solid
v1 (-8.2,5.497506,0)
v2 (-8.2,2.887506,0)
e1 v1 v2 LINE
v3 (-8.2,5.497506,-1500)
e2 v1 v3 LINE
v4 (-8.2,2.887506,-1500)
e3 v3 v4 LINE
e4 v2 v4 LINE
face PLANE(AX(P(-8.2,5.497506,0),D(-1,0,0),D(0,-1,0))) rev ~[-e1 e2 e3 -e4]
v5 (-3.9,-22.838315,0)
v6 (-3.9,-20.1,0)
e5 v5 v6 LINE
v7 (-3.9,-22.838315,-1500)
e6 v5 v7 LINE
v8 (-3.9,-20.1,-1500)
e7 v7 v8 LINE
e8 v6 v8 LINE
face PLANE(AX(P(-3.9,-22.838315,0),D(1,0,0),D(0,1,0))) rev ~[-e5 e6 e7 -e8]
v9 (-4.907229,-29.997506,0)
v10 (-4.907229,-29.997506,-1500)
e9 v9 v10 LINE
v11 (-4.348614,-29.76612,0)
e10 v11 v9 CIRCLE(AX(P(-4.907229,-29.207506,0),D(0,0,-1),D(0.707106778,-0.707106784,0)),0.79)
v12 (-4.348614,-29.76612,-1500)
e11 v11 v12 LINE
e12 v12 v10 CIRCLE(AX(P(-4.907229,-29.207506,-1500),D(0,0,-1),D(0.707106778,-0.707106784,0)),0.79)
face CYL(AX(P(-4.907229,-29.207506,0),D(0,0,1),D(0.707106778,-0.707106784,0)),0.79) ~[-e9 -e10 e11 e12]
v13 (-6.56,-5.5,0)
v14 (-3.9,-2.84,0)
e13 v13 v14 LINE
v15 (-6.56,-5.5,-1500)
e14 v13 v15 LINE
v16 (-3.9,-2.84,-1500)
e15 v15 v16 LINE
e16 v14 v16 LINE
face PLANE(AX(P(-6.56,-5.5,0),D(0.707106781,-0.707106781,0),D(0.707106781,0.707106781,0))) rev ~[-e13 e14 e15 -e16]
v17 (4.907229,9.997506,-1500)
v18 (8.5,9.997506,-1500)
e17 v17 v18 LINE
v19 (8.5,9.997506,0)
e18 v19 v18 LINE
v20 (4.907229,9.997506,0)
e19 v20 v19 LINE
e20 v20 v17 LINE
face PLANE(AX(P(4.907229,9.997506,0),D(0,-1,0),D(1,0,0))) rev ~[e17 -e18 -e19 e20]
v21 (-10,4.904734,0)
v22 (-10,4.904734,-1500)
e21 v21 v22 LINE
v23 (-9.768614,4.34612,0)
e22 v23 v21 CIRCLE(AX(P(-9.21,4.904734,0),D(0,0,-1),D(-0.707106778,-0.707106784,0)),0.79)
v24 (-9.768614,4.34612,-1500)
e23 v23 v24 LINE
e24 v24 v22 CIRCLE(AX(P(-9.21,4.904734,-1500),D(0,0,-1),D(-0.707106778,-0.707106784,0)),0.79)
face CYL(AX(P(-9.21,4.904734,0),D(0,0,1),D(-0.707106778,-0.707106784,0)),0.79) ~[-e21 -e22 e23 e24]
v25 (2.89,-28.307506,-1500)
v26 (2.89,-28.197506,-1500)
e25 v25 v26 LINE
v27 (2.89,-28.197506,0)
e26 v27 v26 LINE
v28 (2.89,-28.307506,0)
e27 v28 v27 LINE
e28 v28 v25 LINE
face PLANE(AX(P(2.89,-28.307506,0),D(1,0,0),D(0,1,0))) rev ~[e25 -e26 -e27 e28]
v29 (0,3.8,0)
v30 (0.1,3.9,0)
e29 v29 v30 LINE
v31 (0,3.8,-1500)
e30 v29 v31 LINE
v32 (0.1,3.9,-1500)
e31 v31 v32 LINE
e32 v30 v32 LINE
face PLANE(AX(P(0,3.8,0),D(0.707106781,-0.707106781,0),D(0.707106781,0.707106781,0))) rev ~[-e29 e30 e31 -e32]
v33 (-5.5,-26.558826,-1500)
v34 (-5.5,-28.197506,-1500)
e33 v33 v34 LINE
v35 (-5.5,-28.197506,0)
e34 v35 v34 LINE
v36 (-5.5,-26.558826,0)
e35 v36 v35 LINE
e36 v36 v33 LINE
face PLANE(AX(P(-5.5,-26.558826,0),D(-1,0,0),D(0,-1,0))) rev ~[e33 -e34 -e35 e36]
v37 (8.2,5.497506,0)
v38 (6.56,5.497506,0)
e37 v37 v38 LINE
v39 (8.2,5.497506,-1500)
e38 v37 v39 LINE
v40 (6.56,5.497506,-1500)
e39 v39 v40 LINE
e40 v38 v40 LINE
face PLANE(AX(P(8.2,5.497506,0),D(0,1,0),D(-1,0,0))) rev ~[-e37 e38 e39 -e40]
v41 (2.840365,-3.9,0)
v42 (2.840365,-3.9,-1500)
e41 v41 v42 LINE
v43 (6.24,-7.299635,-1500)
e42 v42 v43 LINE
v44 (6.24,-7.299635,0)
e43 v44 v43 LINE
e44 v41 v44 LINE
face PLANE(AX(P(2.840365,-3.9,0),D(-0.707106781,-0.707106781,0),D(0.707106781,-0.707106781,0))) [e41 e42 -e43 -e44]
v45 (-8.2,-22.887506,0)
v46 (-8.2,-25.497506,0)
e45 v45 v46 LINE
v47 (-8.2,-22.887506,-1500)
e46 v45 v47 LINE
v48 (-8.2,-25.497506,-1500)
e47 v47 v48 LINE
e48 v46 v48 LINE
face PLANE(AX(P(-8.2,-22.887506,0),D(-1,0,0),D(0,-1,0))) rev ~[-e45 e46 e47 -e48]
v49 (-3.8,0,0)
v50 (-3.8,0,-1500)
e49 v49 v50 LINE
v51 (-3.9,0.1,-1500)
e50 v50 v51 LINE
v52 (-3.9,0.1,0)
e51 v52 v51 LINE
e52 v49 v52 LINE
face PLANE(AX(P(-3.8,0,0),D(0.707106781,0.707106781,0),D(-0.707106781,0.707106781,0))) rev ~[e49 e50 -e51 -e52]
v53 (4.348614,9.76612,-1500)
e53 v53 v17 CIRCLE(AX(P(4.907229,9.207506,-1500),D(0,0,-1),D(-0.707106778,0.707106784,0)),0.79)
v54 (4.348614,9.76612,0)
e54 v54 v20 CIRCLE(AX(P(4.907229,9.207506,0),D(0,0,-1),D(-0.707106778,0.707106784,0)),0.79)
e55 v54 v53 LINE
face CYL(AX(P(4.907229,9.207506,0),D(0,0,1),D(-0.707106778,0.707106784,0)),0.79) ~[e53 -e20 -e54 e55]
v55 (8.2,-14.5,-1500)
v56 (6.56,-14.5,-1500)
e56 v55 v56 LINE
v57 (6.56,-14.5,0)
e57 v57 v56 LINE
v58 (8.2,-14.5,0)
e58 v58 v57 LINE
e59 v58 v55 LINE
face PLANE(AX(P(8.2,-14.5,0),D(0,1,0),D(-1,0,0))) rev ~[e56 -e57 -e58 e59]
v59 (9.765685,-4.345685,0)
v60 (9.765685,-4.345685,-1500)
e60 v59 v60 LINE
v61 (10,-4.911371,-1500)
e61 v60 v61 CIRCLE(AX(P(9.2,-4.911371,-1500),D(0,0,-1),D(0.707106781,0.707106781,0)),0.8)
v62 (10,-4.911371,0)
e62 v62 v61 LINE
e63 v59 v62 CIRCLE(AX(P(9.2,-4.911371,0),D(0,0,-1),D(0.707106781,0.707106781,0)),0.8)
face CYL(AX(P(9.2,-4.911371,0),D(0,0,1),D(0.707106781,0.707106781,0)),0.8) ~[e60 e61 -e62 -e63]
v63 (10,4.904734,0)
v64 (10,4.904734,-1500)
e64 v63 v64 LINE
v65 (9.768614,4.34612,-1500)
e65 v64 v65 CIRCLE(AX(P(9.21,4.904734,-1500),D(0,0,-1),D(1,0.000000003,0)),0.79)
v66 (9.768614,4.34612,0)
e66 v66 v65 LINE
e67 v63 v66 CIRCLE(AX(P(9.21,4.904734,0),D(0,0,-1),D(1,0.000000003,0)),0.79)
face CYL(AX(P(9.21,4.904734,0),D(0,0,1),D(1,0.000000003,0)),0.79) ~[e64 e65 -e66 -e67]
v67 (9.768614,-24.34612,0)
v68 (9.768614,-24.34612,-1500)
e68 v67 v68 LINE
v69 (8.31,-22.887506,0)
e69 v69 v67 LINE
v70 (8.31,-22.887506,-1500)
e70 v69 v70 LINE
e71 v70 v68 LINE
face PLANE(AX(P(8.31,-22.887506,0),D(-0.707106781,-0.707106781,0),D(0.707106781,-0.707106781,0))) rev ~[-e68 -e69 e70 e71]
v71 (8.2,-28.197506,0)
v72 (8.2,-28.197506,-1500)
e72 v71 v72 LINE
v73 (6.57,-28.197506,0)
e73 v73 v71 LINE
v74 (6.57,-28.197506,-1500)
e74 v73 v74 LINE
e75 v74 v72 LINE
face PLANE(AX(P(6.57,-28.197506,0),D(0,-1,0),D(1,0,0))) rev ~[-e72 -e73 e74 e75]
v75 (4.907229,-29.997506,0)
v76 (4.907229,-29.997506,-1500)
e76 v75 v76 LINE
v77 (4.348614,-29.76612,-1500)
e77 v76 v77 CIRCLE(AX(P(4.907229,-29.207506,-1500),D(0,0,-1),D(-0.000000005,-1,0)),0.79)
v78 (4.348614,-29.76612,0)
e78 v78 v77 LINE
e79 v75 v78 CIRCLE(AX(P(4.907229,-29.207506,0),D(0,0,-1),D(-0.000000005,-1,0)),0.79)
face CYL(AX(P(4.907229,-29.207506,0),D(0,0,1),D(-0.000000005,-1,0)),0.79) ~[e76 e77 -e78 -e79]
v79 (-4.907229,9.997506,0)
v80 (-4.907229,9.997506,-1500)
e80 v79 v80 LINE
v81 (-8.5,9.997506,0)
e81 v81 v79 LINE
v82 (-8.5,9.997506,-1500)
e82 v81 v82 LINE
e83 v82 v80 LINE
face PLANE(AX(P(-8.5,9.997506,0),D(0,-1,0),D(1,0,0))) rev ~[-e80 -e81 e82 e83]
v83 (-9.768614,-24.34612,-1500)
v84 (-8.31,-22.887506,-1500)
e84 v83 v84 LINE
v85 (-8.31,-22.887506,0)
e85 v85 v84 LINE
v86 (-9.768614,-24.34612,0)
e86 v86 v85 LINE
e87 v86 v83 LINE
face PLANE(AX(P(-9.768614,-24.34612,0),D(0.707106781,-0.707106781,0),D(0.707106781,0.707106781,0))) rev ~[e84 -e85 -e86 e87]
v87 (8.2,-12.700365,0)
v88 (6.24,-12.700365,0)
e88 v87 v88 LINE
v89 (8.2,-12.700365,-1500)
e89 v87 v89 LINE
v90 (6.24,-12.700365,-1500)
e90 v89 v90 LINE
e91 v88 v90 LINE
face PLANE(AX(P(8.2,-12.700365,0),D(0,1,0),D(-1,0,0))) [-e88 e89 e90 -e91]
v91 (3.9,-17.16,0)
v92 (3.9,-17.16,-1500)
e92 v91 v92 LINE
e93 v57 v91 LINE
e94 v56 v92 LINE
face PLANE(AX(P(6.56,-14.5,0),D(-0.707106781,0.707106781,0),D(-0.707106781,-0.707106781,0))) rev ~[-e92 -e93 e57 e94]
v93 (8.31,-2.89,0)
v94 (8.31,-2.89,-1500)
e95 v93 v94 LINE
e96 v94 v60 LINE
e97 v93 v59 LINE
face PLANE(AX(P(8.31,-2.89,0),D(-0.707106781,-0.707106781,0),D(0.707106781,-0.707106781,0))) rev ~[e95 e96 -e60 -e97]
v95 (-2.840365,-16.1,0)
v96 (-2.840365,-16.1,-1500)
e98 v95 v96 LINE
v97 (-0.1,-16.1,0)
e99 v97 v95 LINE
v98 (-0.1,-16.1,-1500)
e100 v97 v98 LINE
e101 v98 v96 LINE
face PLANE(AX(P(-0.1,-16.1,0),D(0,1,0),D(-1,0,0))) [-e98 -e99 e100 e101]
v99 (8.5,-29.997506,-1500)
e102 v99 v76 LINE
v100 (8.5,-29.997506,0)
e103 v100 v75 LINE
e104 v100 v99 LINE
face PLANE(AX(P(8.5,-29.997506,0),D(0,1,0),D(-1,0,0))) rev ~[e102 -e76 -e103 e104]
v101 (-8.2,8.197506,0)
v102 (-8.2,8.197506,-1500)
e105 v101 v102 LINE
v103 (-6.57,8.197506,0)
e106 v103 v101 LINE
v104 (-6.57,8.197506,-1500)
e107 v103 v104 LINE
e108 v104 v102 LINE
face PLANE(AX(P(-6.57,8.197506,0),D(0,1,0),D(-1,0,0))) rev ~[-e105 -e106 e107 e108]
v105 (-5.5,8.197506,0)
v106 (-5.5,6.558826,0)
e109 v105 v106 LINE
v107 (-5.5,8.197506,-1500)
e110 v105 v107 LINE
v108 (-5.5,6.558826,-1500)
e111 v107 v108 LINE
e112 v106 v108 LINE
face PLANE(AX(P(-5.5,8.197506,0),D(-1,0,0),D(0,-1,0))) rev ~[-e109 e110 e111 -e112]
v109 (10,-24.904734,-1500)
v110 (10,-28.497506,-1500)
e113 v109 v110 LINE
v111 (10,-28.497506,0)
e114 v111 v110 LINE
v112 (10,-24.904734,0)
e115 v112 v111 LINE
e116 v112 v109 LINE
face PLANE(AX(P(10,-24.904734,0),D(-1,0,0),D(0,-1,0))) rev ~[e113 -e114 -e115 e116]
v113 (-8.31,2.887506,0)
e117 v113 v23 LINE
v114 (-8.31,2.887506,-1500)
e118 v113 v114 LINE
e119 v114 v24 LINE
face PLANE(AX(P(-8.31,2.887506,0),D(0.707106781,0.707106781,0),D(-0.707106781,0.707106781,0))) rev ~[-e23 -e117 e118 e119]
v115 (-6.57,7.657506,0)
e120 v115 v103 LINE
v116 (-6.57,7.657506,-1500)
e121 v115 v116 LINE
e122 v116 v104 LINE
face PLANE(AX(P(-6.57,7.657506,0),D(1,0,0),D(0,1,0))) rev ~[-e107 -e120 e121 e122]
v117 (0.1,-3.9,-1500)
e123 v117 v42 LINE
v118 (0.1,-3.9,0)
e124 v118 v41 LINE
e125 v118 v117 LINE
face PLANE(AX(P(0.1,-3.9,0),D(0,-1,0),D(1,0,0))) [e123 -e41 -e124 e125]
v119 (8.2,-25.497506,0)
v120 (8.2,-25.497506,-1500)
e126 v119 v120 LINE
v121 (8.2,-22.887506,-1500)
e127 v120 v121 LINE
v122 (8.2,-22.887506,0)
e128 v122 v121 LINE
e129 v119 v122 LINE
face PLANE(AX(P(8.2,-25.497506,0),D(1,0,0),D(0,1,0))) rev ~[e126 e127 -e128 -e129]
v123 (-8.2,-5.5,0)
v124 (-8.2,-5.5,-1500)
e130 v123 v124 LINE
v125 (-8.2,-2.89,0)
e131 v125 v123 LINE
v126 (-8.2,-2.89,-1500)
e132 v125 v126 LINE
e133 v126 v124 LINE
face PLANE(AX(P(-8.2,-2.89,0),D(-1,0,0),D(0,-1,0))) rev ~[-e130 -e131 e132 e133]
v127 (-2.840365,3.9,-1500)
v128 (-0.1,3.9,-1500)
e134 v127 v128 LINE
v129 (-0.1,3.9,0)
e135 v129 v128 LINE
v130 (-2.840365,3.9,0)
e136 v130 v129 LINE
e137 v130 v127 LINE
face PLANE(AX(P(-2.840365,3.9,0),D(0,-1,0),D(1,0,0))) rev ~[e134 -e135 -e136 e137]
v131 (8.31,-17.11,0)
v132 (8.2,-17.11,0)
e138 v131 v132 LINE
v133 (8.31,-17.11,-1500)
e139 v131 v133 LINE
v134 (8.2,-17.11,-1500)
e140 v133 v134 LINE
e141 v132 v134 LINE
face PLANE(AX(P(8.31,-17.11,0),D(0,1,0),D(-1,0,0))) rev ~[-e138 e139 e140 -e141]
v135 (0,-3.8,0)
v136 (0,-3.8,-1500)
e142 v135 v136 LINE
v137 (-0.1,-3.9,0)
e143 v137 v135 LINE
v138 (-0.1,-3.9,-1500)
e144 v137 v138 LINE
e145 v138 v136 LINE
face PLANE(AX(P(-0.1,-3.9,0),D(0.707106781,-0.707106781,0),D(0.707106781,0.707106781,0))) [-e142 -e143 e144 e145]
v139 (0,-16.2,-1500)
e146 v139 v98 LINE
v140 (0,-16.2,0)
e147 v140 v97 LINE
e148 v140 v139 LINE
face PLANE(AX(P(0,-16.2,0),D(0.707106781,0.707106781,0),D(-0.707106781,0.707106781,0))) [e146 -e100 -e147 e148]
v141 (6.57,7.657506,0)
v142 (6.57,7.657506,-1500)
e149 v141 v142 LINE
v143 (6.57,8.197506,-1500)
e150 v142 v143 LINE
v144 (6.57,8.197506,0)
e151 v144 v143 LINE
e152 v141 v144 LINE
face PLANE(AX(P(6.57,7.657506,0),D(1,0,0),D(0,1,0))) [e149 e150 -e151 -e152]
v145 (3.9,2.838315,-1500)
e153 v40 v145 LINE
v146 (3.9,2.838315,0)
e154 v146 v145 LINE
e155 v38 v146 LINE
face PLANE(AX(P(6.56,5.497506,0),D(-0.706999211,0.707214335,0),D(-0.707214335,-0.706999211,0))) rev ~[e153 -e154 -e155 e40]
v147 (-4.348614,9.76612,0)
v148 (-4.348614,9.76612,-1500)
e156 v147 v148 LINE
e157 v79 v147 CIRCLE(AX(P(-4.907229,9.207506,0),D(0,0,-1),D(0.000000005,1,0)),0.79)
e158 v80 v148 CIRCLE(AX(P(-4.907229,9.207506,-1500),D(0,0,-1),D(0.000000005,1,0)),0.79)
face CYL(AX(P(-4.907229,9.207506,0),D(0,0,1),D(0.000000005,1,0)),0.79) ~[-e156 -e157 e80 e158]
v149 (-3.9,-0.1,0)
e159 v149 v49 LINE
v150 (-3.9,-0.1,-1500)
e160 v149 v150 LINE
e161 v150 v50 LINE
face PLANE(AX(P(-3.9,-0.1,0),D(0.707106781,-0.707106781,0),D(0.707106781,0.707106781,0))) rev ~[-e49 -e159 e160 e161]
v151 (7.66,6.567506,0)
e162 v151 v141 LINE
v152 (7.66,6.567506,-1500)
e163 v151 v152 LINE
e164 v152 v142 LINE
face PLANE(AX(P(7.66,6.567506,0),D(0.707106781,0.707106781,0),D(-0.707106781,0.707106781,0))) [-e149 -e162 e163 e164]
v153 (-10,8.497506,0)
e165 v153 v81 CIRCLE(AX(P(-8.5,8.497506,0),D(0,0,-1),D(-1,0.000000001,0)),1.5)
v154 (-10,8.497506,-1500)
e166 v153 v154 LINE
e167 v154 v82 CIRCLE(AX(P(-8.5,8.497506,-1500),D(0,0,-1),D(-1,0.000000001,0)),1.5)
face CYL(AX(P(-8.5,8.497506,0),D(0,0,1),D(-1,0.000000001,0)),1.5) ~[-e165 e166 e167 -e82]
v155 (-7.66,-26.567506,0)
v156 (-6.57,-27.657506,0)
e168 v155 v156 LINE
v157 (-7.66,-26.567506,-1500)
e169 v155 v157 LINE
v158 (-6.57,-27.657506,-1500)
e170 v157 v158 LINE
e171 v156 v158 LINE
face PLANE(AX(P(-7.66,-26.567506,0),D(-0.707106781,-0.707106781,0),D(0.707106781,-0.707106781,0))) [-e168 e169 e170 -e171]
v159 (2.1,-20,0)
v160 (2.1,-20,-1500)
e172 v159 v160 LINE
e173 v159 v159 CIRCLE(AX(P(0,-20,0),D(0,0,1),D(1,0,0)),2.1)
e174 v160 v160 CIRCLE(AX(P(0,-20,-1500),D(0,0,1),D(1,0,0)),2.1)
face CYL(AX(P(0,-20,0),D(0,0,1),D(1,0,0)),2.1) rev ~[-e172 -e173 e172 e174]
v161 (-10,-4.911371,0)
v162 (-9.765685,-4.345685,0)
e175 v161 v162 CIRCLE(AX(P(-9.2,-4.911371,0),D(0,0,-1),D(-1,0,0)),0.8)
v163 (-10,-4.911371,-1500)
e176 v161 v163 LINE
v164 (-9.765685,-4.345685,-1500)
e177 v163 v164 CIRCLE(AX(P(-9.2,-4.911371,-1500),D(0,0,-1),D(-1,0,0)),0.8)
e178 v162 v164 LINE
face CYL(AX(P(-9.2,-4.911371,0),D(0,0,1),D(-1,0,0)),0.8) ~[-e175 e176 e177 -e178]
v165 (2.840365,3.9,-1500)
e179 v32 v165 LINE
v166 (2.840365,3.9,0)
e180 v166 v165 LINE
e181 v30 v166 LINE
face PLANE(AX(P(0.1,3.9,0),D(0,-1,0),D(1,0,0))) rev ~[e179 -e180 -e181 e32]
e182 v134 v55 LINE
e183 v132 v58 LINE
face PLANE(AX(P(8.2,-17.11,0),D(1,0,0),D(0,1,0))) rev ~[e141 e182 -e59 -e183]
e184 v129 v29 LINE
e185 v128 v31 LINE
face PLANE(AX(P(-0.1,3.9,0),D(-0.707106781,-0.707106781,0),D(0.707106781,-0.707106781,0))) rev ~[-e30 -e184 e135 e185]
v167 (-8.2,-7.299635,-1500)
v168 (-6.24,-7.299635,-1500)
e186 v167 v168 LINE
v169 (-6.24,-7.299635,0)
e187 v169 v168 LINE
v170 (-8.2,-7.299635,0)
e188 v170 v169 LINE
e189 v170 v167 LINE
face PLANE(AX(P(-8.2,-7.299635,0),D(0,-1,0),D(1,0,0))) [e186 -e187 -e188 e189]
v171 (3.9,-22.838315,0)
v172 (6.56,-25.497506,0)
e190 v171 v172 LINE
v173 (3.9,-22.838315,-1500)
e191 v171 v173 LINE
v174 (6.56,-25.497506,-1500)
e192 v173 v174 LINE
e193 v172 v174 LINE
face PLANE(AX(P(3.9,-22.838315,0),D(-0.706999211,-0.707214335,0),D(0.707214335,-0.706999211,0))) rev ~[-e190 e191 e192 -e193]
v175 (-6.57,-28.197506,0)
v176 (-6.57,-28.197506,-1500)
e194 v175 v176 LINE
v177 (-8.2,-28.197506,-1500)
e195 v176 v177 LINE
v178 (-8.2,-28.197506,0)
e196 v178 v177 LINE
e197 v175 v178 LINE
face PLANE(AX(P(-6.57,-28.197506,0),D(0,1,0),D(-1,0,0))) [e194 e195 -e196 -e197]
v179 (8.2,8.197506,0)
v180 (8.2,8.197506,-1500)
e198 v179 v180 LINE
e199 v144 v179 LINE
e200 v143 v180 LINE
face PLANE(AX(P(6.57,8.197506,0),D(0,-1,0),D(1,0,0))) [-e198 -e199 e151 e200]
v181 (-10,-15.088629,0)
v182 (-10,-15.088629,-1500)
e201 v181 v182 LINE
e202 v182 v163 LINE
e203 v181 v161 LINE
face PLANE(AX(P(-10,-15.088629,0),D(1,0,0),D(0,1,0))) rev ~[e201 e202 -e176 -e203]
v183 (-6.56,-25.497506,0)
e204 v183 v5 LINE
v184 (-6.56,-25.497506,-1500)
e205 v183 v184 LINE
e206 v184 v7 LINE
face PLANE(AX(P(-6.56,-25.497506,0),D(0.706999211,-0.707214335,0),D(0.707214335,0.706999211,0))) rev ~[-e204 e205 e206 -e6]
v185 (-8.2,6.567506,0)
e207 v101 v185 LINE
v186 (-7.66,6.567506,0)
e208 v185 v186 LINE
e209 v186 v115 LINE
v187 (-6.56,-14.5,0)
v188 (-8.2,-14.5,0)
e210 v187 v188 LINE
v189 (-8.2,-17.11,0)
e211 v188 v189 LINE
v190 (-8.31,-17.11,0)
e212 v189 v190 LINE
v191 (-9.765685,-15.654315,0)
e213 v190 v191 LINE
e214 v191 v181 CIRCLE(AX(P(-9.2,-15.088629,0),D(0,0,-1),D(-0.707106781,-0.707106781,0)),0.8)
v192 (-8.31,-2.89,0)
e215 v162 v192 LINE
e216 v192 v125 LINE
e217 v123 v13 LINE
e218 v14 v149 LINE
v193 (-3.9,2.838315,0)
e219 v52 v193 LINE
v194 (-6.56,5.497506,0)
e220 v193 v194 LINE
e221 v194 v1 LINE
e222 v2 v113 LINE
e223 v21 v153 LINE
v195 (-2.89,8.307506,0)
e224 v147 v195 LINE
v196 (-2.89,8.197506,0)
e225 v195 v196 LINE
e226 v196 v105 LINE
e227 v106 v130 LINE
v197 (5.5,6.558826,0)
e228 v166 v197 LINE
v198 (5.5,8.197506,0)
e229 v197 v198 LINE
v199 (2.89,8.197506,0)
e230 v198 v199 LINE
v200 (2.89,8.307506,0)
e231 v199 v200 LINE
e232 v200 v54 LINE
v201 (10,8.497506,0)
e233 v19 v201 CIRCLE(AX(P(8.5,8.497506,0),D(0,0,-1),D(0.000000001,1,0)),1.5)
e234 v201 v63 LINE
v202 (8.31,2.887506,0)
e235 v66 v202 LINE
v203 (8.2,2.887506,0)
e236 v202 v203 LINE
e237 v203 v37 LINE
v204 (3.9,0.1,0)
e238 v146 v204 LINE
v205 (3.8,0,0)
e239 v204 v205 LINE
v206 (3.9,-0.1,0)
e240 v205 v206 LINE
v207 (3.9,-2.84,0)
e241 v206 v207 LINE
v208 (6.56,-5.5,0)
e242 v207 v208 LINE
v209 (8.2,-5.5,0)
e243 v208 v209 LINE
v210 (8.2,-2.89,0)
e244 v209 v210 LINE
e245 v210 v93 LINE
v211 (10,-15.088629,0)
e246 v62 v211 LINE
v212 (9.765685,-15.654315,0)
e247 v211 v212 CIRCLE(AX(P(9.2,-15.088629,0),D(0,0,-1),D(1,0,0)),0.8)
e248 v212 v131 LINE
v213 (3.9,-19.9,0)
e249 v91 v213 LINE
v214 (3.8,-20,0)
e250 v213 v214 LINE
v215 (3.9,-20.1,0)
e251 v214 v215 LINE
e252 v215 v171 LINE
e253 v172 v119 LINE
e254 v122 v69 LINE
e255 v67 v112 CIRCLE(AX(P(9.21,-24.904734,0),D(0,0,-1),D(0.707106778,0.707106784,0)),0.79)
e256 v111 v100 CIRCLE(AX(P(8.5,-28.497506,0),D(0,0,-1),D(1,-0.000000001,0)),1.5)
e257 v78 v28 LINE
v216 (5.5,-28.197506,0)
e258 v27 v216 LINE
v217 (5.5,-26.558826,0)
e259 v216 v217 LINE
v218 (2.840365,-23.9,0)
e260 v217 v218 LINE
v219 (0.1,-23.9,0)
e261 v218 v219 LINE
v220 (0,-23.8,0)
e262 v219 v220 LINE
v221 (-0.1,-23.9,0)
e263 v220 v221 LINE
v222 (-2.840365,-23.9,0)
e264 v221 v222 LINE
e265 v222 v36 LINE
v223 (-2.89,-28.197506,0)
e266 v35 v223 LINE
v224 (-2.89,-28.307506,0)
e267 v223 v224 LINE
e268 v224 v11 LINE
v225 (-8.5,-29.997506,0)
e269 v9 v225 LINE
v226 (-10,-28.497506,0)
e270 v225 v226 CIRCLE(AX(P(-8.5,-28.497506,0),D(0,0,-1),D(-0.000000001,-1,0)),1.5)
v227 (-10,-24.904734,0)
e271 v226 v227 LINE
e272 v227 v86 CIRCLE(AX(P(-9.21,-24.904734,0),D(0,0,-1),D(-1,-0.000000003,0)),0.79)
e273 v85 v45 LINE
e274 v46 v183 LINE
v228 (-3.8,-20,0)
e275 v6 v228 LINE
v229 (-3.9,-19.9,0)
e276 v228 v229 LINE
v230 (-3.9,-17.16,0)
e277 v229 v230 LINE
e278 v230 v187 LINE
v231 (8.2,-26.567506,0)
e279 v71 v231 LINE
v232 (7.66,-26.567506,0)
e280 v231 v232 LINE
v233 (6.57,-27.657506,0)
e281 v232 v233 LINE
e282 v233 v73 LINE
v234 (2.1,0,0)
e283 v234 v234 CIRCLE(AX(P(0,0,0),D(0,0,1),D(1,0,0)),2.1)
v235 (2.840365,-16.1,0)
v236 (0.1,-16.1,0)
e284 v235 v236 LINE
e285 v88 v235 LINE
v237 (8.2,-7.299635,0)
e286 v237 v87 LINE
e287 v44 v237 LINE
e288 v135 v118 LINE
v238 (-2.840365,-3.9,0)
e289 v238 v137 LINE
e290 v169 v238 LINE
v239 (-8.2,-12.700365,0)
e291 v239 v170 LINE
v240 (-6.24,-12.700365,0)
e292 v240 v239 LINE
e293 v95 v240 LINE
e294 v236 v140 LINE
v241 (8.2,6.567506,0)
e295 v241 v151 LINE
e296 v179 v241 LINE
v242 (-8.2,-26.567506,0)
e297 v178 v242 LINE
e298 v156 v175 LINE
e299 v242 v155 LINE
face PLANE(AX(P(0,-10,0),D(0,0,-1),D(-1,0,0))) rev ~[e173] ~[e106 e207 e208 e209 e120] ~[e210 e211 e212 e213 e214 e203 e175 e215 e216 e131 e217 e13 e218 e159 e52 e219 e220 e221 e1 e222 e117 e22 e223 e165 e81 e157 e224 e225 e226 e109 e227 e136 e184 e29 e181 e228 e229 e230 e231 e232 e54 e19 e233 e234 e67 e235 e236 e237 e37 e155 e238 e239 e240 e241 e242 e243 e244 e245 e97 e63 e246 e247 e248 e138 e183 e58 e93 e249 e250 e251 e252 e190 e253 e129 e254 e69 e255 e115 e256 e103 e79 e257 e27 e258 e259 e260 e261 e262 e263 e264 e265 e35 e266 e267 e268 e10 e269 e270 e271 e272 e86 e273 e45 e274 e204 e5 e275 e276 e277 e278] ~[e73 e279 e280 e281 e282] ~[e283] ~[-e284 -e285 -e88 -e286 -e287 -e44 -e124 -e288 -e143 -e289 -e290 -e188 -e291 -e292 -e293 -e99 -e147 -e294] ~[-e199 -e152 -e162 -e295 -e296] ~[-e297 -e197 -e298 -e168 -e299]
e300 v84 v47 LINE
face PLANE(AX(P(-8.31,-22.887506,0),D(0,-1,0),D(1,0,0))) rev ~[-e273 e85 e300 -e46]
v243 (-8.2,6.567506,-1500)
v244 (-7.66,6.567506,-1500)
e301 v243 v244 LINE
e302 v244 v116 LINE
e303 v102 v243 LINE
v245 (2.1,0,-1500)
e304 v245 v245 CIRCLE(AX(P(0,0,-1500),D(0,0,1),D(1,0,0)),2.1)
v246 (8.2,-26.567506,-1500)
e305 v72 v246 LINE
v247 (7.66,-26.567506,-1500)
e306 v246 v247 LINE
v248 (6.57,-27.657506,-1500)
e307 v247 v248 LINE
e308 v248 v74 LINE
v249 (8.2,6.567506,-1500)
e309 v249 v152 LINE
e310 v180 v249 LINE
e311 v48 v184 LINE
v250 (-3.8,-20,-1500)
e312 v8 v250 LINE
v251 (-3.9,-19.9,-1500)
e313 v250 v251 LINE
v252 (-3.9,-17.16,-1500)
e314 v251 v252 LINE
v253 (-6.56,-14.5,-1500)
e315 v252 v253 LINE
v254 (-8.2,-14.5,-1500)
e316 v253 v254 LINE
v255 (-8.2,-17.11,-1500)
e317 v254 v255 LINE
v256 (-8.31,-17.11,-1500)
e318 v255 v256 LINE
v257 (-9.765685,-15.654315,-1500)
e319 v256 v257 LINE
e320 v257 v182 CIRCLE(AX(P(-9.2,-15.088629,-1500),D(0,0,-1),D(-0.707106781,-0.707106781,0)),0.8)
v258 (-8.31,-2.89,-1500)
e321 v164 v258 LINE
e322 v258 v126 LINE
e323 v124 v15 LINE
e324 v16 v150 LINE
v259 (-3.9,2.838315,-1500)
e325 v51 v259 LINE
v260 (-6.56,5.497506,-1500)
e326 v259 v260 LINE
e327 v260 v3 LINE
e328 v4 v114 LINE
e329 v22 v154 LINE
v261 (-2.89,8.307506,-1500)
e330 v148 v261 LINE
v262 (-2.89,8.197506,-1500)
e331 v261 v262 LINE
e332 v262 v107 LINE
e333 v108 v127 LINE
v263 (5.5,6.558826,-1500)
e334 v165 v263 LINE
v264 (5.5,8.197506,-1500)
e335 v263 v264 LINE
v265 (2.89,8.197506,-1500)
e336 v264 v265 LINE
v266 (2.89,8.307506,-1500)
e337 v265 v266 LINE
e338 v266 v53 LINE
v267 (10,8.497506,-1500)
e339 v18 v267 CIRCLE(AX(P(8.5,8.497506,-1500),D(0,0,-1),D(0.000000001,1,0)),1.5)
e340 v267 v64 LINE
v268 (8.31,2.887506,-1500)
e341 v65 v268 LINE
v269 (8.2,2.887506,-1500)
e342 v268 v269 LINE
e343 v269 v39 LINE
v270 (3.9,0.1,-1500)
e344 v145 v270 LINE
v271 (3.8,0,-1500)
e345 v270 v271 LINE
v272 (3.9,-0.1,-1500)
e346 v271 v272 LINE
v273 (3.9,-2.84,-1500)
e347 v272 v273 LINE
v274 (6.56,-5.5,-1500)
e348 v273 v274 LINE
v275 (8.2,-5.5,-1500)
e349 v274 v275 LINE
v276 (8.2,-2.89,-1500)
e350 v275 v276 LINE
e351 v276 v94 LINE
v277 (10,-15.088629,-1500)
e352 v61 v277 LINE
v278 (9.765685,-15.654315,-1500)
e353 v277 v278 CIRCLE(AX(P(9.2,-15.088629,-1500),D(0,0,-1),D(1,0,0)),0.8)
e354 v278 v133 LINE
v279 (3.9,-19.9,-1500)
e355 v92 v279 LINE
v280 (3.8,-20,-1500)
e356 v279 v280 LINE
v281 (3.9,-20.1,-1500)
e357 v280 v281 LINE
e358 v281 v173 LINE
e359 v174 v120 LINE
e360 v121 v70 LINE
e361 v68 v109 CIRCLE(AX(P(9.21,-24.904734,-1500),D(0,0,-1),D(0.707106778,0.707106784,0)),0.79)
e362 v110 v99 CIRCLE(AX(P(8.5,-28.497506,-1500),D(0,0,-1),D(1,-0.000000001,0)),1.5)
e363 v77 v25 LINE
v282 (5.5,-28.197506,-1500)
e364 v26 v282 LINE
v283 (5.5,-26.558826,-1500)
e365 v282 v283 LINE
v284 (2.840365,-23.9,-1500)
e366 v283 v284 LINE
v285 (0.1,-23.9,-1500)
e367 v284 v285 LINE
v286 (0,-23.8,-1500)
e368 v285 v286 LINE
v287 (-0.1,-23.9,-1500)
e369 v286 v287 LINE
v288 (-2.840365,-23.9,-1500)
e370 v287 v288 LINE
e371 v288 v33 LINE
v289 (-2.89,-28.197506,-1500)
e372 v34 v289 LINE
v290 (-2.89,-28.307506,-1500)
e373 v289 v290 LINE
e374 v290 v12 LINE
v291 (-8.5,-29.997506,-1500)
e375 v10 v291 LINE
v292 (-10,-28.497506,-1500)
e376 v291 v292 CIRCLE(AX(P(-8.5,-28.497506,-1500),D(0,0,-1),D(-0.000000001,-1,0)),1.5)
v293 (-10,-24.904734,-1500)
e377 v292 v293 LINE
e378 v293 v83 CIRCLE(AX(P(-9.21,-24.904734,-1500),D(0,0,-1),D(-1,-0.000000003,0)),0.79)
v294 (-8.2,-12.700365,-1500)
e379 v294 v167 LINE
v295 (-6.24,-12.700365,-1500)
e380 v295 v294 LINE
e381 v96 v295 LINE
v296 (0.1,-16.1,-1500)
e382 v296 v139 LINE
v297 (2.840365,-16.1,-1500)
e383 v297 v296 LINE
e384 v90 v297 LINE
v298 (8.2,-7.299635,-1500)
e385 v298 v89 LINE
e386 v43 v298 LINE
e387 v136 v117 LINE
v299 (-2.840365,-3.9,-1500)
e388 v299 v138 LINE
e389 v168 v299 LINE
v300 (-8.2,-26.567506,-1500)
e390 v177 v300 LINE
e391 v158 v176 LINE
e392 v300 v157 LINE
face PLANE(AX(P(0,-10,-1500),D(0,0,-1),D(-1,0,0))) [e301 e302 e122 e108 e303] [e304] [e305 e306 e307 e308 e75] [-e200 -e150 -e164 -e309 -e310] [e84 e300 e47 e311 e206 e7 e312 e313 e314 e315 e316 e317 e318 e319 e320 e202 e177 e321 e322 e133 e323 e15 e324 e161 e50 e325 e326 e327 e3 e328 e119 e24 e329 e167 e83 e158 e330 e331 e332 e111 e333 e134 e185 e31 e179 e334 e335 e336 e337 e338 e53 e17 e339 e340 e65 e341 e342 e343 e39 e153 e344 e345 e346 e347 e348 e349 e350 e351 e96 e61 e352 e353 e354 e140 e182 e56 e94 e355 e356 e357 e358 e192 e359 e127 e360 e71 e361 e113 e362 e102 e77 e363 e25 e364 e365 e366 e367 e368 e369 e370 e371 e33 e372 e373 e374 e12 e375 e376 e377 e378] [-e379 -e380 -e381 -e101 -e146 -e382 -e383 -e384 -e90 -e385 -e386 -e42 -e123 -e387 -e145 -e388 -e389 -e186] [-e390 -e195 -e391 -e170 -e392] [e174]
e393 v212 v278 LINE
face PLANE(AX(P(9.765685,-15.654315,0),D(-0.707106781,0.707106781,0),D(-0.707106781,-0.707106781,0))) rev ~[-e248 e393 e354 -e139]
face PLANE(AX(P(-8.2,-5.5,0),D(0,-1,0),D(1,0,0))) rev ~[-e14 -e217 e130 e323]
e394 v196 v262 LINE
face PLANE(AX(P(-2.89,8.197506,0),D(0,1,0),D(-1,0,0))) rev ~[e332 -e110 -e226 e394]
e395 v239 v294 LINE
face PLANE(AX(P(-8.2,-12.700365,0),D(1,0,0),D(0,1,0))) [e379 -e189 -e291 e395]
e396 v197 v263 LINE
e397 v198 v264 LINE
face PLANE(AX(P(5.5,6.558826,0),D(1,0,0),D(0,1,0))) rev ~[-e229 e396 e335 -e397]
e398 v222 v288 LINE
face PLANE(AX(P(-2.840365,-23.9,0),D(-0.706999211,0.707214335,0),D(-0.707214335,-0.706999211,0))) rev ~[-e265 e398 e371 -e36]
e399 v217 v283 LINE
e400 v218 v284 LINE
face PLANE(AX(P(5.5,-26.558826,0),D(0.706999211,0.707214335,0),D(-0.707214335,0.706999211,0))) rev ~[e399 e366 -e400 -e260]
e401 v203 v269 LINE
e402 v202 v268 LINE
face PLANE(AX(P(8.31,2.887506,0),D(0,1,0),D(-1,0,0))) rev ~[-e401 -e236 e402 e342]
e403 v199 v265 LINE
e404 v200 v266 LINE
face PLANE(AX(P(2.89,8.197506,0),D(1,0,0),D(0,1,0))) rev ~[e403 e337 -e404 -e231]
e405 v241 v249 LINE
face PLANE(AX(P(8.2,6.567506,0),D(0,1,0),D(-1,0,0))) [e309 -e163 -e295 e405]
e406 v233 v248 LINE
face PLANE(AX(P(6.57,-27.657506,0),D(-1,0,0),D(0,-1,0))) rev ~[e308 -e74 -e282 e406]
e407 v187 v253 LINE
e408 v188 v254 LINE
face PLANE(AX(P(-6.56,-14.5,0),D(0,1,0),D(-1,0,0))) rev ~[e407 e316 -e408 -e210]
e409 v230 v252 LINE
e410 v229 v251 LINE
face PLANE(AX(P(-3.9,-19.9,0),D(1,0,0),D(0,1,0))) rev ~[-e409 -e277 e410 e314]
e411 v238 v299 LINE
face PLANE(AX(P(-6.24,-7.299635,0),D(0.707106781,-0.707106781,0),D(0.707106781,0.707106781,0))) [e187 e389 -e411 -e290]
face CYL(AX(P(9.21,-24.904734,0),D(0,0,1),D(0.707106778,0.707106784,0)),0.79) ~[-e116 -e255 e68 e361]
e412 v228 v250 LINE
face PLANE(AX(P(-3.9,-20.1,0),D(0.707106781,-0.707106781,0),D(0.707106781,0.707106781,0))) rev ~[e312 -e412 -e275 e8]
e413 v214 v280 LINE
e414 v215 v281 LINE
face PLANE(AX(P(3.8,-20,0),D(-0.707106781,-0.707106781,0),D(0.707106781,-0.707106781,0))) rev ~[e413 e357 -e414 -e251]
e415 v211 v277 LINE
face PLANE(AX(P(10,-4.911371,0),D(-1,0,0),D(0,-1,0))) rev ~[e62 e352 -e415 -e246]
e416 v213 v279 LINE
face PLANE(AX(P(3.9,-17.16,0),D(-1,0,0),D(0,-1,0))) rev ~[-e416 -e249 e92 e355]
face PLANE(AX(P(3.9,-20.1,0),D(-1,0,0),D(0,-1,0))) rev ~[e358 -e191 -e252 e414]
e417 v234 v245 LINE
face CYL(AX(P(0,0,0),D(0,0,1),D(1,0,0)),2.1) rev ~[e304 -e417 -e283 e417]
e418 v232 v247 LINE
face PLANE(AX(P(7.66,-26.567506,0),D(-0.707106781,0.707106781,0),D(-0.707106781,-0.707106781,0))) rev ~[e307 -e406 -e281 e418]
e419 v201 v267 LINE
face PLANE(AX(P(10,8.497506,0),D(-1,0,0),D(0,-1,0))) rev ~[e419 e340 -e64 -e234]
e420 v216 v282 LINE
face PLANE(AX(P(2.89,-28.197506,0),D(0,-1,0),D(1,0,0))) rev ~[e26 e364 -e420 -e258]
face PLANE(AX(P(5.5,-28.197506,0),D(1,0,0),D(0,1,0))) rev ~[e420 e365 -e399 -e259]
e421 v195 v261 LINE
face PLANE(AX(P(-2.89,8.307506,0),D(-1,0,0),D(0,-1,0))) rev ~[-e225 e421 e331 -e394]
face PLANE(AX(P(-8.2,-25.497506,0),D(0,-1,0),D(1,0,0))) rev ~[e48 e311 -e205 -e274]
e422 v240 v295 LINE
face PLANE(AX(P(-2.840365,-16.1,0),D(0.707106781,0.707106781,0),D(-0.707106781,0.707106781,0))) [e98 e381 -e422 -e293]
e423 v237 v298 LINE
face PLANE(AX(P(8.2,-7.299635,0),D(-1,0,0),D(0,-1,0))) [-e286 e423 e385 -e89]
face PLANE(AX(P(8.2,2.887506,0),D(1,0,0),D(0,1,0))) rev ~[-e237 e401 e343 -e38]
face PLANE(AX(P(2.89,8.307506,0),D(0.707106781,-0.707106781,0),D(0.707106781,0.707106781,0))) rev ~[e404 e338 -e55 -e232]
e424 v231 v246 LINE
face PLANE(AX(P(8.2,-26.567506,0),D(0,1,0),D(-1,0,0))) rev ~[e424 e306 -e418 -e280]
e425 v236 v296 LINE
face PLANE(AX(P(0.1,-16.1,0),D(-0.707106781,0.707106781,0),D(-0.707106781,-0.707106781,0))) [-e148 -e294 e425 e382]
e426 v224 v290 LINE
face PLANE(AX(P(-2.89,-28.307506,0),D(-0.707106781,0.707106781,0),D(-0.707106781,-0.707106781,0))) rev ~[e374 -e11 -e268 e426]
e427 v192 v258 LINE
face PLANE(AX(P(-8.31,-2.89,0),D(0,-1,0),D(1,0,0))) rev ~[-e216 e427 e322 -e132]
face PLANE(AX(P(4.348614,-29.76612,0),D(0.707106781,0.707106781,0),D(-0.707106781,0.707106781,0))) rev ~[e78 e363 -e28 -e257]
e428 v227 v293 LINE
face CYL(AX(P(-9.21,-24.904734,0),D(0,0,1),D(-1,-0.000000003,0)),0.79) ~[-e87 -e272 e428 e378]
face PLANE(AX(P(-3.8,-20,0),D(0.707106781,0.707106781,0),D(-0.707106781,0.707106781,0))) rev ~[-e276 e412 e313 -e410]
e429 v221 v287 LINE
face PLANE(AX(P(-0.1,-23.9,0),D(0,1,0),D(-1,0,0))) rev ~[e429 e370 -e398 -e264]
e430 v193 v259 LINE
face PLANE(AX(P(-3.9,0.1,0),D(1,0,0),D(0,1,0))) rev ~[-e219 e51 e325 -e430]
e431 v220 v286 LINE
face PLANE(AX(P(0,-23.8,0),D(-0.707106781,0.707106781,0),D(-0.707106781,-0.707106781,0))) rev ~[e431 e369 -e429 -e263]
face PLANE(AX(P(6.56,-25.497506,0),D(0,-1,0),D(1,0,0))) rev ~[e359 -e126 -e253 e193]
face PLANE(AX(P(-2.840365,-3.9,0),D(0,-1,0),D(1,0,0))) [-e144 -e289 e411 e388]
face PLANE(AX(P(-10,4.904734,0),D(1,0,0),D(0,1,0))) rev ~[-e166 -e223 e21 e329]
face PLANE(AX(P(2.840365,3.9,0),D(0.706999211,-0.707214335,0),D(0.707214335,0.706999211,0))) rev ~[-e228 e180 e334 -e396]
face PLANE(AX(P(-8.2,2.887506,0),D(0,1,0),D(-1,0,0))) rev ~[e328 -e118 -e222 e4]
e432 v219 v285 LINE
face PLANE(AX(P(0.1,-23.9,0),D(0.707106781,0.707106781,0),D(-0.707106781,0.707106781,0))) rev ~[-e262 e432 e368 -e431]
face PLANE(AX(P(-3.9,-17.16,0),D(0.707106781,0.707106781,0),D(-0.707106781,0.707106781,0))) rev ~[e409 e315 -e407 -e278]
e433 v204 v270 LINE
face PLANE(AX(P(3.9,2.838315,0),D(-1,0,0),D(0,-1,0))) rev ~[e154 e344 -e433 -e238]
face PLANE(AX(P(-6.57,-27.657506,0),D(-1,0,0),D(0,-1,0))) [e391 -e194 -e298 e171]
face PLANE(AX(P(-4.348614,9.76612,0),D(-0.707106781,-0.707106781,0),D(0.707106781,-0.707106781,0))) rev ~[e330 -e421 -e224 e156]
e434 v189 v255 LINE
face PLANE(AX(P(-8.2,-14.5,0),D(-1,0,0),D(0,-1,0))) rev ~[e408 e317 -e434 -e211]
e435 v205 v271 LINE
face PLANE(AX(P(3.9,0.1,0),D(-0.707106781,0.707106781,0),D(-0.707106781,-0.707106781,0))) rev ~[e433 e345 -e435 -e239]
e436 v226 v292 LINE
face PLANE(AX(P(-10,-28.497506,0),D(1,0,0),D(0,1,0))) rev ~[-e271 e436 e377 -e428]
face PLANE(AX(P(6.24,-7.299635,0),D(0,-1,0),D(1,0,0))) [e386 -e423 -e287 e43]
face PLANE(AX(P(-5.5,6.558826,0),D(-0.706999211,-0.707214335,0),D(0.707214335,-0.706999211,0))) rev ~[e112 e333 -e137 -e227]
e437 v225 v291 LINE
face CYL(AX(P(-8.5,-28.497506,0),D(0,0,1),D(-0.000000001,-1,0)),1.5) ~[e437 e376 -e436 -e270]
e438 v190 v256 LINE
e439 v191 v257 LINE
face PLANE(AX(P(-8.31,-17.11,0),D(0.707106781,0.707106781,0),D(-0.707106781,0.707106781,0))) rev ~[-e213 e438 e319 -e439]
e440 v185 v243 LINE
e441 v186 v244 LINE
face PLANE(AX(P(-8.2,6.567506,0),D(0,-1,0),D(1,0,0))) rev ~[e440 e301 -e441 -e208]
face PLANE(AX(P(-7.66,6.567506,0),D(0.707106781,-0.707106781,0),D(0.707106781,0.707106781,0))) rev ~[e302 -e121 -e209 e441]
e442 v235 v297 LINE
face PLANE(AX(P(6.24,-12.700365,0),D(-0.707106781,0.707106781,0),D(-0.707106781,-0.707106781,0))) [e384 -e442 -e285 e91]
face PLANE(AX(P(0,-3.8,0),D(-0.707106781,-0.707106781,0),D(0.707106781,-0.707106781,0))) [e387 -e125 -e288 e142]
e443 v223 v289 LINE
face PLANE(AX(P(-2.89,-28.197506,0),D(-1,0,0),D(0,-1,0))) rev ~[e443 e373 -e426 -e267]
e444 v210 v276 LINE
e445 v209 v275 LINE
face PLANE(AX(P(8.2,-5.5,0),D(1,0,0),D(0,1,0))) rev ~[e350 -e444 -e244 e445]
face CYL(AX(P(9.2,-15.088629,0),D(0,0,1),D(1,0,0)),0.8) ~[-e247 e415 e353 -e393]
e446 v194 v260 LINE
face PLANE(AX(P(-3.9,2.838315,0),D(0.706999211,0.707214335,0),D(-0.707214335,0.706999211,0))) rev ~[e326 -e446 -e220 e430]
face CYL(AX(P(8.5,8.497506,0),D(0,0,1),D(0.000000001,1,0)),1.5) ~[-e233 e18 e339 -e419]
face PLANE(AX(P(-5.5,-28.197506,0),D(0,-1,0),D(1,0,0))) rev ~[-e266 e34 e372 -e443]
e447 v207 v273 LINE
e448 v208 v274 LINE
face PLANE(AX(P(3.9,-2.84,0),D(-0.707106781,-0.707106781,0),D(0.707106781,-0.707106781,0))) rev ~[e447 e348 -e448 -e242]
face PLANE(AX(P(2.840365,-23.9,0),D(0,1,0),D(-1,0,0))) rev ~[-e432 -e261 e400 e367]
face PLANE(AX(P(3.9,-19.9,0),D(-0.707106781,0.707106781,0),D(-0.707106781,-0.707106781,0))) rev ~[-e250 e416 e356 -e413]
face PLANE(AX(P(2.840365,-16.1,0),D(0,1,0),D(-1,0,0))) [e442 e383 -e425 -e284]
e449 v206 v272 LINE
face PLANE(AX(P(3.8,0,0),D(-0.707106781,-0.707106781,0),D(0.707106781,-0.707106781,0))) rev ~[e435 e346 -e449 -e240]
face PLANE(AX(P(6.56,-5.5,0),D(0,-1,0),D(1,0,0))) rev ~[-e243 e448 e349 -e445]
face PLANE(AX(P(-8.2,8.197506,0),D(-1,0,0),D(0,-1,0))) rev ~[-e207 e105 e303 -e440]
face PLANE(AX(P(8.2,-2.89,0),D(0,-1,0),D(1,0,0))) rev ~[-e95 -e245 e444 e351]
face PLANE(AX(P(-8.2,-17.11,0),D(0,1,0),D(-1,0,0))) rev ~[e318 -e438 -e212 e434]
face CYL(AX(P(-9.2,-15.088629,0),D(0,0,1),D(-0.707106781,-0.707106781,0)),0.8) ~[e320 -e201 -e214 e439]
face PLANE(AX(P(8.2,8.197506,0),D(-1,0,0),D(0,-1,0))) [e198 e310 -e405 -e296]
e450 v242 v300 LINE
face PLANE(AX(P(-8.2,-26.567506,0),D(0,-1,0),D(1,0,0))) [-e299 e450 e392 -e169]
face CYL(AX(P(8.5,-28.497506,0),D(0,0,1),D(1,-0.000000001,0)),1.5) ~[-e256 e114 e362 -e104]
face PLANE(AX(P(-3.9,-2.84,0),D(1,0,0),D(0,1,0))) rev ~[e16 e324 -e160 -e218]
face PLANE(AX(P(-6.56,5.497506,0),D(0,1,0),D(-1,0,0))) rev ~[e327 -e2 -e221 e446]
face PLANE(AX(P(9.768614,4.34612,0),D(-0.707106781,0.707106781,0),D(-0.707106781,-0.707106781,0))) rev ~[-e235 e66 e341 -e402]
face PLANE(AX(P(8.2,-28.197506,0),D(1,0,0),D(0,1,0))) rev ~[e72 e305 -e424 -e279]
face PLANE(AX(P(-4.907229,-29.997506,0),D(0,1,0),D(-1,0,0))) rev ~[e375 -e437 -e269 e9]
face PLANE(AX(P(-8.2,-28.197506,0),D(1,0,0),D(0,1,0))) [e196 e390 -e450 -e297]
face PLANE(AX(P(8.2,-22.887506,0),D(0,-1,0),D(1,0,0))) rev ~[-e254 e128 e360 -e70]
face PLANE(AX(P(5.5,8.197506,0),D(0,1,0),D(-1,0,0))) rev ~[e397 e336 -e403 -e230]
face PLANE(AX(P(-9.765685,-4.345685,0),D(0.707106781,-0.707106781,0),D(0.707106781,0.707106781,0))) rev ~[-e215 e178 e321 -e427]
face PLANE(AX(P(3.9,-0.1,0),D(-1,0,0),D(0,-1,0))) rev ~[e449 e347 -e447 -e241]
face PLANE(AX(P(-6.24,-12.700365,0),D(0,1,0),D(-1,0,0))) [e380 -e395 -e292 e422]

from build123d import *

# Parameters (mm, degrees)
SKETCH2_R           = 2.1
BOSS_EXTRUDE1_DEPTH = 1500


with BuildPart() as part:
    # Sketch2 → Boss-Extrude1 (new body)
    with BuildSketch(Plane.XY):
        with BuildLine():
            Line((-0.1, 3.9), (0, 3.8))
            Line((0, 3.8), (0.1, 3.9))
            Line((0.1, 3.9), (2.840365134, 3.9))
            Line((2.840365134, 3.9), (5.5, 6.558825842))
            Line((5.5, 6.558825842), (5.5, 8.197505675))
            Line((5.5, 8.197505675), (2.89, 8.197505675))
            Line((2.89, 8.197505675), (2.89, 8.307505675))
            Line((2.89, 8.307505675), (4.348614357, 9.766120032))
            ThreePointArc((4.348614357, 9.766120032), (4.604908803, 9.937370505), (4.907228714, 9.997505675))
            Line((4.907228714, 9.997505675), (8.5, 9.997505675))
            ThreePointArc((8.5, 9.997505675), (9.560660172, 9.558165846), (10, 8.497505675))
            Line((10, 8.497505675), (10, 4.904734389))
            ThreePointArc((10, 4.904734389), (9.939864831, 4.602414477), (9.768614357, 4.346120032))
            Line((9.768614357, 4.346120032), (8.31, 2.887505675))
            Line((8.31, 2.887505675), (8.2, 2.887505675))
            Line((8.2, 2.887505675), (8.2, 5.497505675))
            Line((8.2, 5.497505675), (6.56, 5.497505675))
            Line((6.56, 5.497505675), (3.9, 2.83831481))
            Line((3.9, 2.83831481), (3.9, 0.1))
            Line((3.9, 0.1), (3.8, 0))
            Line((3.8, 0), (3.9, -0.1))
            Line((3.9, -0.1), (3.9, -2.84))
            Line((3.9, -2.84), (6.56, -5.5))
            Line((6.56, -5.5), (8.2, -5.5))
            Line((8.2, -5.5), (8.2, -2.89))
            Line((8.2, -2.89), (8.31, -2.89))
            Line((8.31, -2.89), (9.765685425, -4.345685425))
            ThreePointArc((9.765685425, -4.345685425), (9.939103626, -4.605224104), (10, -4.91137085))
            Line((10, -4.91137085), (10, -15.08862915))
            ThreePointArc((10, -15.08862915), (9.939103626, -15.394775896), (9.765685425, -15.654314575))
            Line((9.765685425, -15.654314575), (8.31, -17.11))
            Line((8.31, -17.11), (8.2, -17.11))
            Line((8.2, -17.11), (8.2, -14.5))
            Line((8.2, -14.5), (6.56, -14.5))
            Line((6.56, -14.5), (3.9, -17.16))
            Line((3.9, -17.16), (3.9, -19.9))
            Line((3.9, -19.9), (3.8, -20))
            Line((3.8, -20), (3.9, -20.1))
            Line((3.9, -20.1), (3.9, -22.83831481))
            Line((3.9, -22.83831481), (6.56, -25.497505675))
            Line((6.56, -25.497505675), (8.2, -25.497505675))
            Line((8.2, -25.497505675), (8.2, -22.887505675))
            Line((8.2, -22.887505675), (8.31, -22.887505675))
            Line((8.31, -22.887505675), (9.768614357, -24.346120032))
            ThreePointArc((9.768614357, -24.346120032), (9.939864831, -24.602414477), (10, -24.904734389))
            Line((10, -24.904734389), (10, -28.497505675))
            ThreePointArc((10, -28.497505675), (9.560660172, -29.558165846), (8.5, -29.997505675))
            Line((8.5, -29.997505675), (4.907228714, -29.997505675))
            ThreePointArc((4.907228714, -29.997505675), (4.604908803, -29.937370505), (4.348614357, -29.766120032))
            Line((4.348614357, -29.766120032), (2.89, -28.307505675))
            Line((2.89, -28.307505675), (2.89, -28.197505675))
            Line((2.89, -28.197505675), (5.5, -28.197505675))
            Line((5.5, -28.197505675), (5.5, -26.558825842))
            Line((5.5, -26.558825842), (2.840365134, -23.9))
            Line((2.840365134, -23.9), (0.1, -23.9))
            Line((0.1, -23.9), (0, -23.8))
            Line((0, -23.8), (-0.1, -23.9))
            Line((-0.1, -23.9), (-2.840365134, -23.9))
            Line((-2.840365134, -23.9), (-5.5, -26.558825842))
            Line((-5.5, -26.558825842), (-5.5, -28.197505675))
            Line((-5.5, -28.197505675), (-2.89, -28.197505675))
            Line((-2.89, -28.197505675), (-2.89, -28.307505675))
            Line((-2.89, -28.307505675), (-4.348614357, -29.766120032))
            ThreePointArc((-4.348614357, -29.766120032), (-4.604908803, -29.937370505), (-4.907228714, -29.997505675))
            Line((-4.907228714, -29.997505675), (-8.5, -29.997505675))
            ThreePointArc((-8.5, -29.997505675), (-9.560660172, -29.558165846), (-10, -28.497505675))
            Line((-10, -28.497505675), (-10, -24.904734389))
            ThreePointArc((-10, -24.904734389), (-9.939864831, -24.602414477), (-9.768614357, -24.346120032))
            Line((-9.768614357, -24.346120032), (-8.31, -22.887505675))
            Line((-8.31, -22.887505675), (-8.2, -22.887505675))
            Line((-8.2, -22.887505675), (-8.2, -25.497505675))
            Line((-8.2, -25.497505675), (-6.56, -25.497505675))
            Line((-6.56, -25.497505675), (-3.9, -22.83831481))
            Line((-3.9, -22.83831481), (-3.9, -20.1))
            Line((-3.9, -20.1), (-3.8, -20))
            Line((-3.8, -20), (-3.9, -19.9))
            Line((-3.9, -19.9), (-3.9, -17.16))
            Line((-3.9, -17.16), (-6.56, -14.5))
            Line((-6.56, -14.5), (-8.2, -14.5))
            Line((-8.2, -14.5), (-8.2, -17.11))
            Line((-8.2, -17.11), (-8.31, -17.11))
            Line((-8.31, -17.11), (-9.765685425, -15.654314575))
            ThreePointArc((-9.765685425, -15.654314575), (-9.939103626, -15.394775896), (-10, -15.08862915))
            Line((-10, -15.08862915), (-10, -4.91137085))
            ThreePointArc((-10, -4.91137085), (-9.939103626, -4.605224104), (-9.765685425, -4.345685425))
            Line((-9.765685425, -4.345685425), (-8.31, -2.89))
            Line((-8.31, -2.89), (-8.2, -2.89))
            Line((-8.2, -2.89), (-8.2, -5.5))
            Line((-8.2, -5.5), (-6.56, -5.5))
            Line((-6.56, -5.5), (-3.9, -2.84))
            Line((-3.9, -2.84), (-3.9, -0.1))
            Line((-3.9, -0.1), (-3.8, 0))
            Line((-3.8, 0), (-3.9, 0.1))
            Line((-3.9, 0.1), (-3.9, 2.83831481))
            Line((-3.9, 2.83831481), (-6.56, 5.497505675))
            Line((-6.56, 5.497505675), (-8.2, 5.497505675))
            Line((-8.2, 5.497505675), (-8.2, 2.887505675))
            Line((-8.2, 2.887505675), (-8.31, 2.887505675))
            Line((-8.31, 2.887505675), (-9.768614357, 4.346120032))
            ThreePointArc((-9.768614357, 4.346120032), (-9.939864831, 4.602414477), (-10, 4.904734389))
            Line((-10, 4.904734389), (-10, 8.497505675))
            ThreePointArc((-10, 8.497505675), (-9.560660172, 9.558165846), (-8.5, 9.997505675))
            Line((-8.5, 9.997505675), (-4.907228714, 9.997505675))
            ThreePointArc((-4.907228714, 9.997505675), (-4.604908803, 9.937370505), (-4.348614357, 9.766120032))
            Line((-4.348614357, 9.766120032), (-2.89, 8.307505675))
            Line((-2.89, 8.307505675), (-2.89, 8.197505675))
            Line((-2.89, 8.197505675), (-5.5, 8.197505675))
            Line((-5.5, 8.197505675), (-5.5, 6.558825842))
            Line((-5.5, 6.558825842), (-2.840365134, 3.9))
            Line((-2.840365134, 3.9), (-0.1, 3.9))
        make_face()
        Circle(SKETCH2_R, mode=Mode.SUBTRACT)
        with Locations((0, -20)):
            Circle(SKETCH2_R, mode=Mode.SUBTRACT)
        Polygon((-7.66, 6.567505675), (-6.57, 7.657505675), (-6.57, 8.197505675), (-8.2, 8.197505675), (-8.2, 6.567505675), align=None, mode=Mode.SUBTRACT)
        Polygon((-0.1, -3.9), (0, -3.8), (0.1, -3.9), (2.840365134, -3.9), (6.24, -7.299634866), (8.2, -7.299634866), (8.2, -12.700365134), (6.24, -12.700365134), (2.840365134, -16.1), (0.1, -16.1), (0, -16.2), (-0.1, -16.1), (-2.840365134, -16.1), (-6.24, -12.700365134), (-8.2, -12.700365134), (-8.2, -7.299634866), (-6.24, -7.299634866), (-2.840365134, -3.9), align=None, mode=Mode.SUBTRACT)
        Polygon((8.2, 6.567505675), (7.66, 6.567505675), (6.57, 7.657505675), (6.57, 8.197505675), (8.2, 8.197505675), align=None, mode=Mode.SUBTRACT)
        Polygon((7.66, -26.567505675), (6.57, -27.657505675), (6.57, -28.197505675), (8.2, -28.197505675), (8.2, -26.567505675), align=None, mode=Mode.SUBTRACT)
        Polygon((-8.2, -26.567505675), (-7.66, -26.567505675), (-6.57, -27.657505675), (-6.57, -28.197505675), (-8.2, -28.197505675), align=None, mode=Mode.SUBTRACT)
    extrude(amount=-BOSS_EXTRUDE1_DEPTH)


solid = part.part
